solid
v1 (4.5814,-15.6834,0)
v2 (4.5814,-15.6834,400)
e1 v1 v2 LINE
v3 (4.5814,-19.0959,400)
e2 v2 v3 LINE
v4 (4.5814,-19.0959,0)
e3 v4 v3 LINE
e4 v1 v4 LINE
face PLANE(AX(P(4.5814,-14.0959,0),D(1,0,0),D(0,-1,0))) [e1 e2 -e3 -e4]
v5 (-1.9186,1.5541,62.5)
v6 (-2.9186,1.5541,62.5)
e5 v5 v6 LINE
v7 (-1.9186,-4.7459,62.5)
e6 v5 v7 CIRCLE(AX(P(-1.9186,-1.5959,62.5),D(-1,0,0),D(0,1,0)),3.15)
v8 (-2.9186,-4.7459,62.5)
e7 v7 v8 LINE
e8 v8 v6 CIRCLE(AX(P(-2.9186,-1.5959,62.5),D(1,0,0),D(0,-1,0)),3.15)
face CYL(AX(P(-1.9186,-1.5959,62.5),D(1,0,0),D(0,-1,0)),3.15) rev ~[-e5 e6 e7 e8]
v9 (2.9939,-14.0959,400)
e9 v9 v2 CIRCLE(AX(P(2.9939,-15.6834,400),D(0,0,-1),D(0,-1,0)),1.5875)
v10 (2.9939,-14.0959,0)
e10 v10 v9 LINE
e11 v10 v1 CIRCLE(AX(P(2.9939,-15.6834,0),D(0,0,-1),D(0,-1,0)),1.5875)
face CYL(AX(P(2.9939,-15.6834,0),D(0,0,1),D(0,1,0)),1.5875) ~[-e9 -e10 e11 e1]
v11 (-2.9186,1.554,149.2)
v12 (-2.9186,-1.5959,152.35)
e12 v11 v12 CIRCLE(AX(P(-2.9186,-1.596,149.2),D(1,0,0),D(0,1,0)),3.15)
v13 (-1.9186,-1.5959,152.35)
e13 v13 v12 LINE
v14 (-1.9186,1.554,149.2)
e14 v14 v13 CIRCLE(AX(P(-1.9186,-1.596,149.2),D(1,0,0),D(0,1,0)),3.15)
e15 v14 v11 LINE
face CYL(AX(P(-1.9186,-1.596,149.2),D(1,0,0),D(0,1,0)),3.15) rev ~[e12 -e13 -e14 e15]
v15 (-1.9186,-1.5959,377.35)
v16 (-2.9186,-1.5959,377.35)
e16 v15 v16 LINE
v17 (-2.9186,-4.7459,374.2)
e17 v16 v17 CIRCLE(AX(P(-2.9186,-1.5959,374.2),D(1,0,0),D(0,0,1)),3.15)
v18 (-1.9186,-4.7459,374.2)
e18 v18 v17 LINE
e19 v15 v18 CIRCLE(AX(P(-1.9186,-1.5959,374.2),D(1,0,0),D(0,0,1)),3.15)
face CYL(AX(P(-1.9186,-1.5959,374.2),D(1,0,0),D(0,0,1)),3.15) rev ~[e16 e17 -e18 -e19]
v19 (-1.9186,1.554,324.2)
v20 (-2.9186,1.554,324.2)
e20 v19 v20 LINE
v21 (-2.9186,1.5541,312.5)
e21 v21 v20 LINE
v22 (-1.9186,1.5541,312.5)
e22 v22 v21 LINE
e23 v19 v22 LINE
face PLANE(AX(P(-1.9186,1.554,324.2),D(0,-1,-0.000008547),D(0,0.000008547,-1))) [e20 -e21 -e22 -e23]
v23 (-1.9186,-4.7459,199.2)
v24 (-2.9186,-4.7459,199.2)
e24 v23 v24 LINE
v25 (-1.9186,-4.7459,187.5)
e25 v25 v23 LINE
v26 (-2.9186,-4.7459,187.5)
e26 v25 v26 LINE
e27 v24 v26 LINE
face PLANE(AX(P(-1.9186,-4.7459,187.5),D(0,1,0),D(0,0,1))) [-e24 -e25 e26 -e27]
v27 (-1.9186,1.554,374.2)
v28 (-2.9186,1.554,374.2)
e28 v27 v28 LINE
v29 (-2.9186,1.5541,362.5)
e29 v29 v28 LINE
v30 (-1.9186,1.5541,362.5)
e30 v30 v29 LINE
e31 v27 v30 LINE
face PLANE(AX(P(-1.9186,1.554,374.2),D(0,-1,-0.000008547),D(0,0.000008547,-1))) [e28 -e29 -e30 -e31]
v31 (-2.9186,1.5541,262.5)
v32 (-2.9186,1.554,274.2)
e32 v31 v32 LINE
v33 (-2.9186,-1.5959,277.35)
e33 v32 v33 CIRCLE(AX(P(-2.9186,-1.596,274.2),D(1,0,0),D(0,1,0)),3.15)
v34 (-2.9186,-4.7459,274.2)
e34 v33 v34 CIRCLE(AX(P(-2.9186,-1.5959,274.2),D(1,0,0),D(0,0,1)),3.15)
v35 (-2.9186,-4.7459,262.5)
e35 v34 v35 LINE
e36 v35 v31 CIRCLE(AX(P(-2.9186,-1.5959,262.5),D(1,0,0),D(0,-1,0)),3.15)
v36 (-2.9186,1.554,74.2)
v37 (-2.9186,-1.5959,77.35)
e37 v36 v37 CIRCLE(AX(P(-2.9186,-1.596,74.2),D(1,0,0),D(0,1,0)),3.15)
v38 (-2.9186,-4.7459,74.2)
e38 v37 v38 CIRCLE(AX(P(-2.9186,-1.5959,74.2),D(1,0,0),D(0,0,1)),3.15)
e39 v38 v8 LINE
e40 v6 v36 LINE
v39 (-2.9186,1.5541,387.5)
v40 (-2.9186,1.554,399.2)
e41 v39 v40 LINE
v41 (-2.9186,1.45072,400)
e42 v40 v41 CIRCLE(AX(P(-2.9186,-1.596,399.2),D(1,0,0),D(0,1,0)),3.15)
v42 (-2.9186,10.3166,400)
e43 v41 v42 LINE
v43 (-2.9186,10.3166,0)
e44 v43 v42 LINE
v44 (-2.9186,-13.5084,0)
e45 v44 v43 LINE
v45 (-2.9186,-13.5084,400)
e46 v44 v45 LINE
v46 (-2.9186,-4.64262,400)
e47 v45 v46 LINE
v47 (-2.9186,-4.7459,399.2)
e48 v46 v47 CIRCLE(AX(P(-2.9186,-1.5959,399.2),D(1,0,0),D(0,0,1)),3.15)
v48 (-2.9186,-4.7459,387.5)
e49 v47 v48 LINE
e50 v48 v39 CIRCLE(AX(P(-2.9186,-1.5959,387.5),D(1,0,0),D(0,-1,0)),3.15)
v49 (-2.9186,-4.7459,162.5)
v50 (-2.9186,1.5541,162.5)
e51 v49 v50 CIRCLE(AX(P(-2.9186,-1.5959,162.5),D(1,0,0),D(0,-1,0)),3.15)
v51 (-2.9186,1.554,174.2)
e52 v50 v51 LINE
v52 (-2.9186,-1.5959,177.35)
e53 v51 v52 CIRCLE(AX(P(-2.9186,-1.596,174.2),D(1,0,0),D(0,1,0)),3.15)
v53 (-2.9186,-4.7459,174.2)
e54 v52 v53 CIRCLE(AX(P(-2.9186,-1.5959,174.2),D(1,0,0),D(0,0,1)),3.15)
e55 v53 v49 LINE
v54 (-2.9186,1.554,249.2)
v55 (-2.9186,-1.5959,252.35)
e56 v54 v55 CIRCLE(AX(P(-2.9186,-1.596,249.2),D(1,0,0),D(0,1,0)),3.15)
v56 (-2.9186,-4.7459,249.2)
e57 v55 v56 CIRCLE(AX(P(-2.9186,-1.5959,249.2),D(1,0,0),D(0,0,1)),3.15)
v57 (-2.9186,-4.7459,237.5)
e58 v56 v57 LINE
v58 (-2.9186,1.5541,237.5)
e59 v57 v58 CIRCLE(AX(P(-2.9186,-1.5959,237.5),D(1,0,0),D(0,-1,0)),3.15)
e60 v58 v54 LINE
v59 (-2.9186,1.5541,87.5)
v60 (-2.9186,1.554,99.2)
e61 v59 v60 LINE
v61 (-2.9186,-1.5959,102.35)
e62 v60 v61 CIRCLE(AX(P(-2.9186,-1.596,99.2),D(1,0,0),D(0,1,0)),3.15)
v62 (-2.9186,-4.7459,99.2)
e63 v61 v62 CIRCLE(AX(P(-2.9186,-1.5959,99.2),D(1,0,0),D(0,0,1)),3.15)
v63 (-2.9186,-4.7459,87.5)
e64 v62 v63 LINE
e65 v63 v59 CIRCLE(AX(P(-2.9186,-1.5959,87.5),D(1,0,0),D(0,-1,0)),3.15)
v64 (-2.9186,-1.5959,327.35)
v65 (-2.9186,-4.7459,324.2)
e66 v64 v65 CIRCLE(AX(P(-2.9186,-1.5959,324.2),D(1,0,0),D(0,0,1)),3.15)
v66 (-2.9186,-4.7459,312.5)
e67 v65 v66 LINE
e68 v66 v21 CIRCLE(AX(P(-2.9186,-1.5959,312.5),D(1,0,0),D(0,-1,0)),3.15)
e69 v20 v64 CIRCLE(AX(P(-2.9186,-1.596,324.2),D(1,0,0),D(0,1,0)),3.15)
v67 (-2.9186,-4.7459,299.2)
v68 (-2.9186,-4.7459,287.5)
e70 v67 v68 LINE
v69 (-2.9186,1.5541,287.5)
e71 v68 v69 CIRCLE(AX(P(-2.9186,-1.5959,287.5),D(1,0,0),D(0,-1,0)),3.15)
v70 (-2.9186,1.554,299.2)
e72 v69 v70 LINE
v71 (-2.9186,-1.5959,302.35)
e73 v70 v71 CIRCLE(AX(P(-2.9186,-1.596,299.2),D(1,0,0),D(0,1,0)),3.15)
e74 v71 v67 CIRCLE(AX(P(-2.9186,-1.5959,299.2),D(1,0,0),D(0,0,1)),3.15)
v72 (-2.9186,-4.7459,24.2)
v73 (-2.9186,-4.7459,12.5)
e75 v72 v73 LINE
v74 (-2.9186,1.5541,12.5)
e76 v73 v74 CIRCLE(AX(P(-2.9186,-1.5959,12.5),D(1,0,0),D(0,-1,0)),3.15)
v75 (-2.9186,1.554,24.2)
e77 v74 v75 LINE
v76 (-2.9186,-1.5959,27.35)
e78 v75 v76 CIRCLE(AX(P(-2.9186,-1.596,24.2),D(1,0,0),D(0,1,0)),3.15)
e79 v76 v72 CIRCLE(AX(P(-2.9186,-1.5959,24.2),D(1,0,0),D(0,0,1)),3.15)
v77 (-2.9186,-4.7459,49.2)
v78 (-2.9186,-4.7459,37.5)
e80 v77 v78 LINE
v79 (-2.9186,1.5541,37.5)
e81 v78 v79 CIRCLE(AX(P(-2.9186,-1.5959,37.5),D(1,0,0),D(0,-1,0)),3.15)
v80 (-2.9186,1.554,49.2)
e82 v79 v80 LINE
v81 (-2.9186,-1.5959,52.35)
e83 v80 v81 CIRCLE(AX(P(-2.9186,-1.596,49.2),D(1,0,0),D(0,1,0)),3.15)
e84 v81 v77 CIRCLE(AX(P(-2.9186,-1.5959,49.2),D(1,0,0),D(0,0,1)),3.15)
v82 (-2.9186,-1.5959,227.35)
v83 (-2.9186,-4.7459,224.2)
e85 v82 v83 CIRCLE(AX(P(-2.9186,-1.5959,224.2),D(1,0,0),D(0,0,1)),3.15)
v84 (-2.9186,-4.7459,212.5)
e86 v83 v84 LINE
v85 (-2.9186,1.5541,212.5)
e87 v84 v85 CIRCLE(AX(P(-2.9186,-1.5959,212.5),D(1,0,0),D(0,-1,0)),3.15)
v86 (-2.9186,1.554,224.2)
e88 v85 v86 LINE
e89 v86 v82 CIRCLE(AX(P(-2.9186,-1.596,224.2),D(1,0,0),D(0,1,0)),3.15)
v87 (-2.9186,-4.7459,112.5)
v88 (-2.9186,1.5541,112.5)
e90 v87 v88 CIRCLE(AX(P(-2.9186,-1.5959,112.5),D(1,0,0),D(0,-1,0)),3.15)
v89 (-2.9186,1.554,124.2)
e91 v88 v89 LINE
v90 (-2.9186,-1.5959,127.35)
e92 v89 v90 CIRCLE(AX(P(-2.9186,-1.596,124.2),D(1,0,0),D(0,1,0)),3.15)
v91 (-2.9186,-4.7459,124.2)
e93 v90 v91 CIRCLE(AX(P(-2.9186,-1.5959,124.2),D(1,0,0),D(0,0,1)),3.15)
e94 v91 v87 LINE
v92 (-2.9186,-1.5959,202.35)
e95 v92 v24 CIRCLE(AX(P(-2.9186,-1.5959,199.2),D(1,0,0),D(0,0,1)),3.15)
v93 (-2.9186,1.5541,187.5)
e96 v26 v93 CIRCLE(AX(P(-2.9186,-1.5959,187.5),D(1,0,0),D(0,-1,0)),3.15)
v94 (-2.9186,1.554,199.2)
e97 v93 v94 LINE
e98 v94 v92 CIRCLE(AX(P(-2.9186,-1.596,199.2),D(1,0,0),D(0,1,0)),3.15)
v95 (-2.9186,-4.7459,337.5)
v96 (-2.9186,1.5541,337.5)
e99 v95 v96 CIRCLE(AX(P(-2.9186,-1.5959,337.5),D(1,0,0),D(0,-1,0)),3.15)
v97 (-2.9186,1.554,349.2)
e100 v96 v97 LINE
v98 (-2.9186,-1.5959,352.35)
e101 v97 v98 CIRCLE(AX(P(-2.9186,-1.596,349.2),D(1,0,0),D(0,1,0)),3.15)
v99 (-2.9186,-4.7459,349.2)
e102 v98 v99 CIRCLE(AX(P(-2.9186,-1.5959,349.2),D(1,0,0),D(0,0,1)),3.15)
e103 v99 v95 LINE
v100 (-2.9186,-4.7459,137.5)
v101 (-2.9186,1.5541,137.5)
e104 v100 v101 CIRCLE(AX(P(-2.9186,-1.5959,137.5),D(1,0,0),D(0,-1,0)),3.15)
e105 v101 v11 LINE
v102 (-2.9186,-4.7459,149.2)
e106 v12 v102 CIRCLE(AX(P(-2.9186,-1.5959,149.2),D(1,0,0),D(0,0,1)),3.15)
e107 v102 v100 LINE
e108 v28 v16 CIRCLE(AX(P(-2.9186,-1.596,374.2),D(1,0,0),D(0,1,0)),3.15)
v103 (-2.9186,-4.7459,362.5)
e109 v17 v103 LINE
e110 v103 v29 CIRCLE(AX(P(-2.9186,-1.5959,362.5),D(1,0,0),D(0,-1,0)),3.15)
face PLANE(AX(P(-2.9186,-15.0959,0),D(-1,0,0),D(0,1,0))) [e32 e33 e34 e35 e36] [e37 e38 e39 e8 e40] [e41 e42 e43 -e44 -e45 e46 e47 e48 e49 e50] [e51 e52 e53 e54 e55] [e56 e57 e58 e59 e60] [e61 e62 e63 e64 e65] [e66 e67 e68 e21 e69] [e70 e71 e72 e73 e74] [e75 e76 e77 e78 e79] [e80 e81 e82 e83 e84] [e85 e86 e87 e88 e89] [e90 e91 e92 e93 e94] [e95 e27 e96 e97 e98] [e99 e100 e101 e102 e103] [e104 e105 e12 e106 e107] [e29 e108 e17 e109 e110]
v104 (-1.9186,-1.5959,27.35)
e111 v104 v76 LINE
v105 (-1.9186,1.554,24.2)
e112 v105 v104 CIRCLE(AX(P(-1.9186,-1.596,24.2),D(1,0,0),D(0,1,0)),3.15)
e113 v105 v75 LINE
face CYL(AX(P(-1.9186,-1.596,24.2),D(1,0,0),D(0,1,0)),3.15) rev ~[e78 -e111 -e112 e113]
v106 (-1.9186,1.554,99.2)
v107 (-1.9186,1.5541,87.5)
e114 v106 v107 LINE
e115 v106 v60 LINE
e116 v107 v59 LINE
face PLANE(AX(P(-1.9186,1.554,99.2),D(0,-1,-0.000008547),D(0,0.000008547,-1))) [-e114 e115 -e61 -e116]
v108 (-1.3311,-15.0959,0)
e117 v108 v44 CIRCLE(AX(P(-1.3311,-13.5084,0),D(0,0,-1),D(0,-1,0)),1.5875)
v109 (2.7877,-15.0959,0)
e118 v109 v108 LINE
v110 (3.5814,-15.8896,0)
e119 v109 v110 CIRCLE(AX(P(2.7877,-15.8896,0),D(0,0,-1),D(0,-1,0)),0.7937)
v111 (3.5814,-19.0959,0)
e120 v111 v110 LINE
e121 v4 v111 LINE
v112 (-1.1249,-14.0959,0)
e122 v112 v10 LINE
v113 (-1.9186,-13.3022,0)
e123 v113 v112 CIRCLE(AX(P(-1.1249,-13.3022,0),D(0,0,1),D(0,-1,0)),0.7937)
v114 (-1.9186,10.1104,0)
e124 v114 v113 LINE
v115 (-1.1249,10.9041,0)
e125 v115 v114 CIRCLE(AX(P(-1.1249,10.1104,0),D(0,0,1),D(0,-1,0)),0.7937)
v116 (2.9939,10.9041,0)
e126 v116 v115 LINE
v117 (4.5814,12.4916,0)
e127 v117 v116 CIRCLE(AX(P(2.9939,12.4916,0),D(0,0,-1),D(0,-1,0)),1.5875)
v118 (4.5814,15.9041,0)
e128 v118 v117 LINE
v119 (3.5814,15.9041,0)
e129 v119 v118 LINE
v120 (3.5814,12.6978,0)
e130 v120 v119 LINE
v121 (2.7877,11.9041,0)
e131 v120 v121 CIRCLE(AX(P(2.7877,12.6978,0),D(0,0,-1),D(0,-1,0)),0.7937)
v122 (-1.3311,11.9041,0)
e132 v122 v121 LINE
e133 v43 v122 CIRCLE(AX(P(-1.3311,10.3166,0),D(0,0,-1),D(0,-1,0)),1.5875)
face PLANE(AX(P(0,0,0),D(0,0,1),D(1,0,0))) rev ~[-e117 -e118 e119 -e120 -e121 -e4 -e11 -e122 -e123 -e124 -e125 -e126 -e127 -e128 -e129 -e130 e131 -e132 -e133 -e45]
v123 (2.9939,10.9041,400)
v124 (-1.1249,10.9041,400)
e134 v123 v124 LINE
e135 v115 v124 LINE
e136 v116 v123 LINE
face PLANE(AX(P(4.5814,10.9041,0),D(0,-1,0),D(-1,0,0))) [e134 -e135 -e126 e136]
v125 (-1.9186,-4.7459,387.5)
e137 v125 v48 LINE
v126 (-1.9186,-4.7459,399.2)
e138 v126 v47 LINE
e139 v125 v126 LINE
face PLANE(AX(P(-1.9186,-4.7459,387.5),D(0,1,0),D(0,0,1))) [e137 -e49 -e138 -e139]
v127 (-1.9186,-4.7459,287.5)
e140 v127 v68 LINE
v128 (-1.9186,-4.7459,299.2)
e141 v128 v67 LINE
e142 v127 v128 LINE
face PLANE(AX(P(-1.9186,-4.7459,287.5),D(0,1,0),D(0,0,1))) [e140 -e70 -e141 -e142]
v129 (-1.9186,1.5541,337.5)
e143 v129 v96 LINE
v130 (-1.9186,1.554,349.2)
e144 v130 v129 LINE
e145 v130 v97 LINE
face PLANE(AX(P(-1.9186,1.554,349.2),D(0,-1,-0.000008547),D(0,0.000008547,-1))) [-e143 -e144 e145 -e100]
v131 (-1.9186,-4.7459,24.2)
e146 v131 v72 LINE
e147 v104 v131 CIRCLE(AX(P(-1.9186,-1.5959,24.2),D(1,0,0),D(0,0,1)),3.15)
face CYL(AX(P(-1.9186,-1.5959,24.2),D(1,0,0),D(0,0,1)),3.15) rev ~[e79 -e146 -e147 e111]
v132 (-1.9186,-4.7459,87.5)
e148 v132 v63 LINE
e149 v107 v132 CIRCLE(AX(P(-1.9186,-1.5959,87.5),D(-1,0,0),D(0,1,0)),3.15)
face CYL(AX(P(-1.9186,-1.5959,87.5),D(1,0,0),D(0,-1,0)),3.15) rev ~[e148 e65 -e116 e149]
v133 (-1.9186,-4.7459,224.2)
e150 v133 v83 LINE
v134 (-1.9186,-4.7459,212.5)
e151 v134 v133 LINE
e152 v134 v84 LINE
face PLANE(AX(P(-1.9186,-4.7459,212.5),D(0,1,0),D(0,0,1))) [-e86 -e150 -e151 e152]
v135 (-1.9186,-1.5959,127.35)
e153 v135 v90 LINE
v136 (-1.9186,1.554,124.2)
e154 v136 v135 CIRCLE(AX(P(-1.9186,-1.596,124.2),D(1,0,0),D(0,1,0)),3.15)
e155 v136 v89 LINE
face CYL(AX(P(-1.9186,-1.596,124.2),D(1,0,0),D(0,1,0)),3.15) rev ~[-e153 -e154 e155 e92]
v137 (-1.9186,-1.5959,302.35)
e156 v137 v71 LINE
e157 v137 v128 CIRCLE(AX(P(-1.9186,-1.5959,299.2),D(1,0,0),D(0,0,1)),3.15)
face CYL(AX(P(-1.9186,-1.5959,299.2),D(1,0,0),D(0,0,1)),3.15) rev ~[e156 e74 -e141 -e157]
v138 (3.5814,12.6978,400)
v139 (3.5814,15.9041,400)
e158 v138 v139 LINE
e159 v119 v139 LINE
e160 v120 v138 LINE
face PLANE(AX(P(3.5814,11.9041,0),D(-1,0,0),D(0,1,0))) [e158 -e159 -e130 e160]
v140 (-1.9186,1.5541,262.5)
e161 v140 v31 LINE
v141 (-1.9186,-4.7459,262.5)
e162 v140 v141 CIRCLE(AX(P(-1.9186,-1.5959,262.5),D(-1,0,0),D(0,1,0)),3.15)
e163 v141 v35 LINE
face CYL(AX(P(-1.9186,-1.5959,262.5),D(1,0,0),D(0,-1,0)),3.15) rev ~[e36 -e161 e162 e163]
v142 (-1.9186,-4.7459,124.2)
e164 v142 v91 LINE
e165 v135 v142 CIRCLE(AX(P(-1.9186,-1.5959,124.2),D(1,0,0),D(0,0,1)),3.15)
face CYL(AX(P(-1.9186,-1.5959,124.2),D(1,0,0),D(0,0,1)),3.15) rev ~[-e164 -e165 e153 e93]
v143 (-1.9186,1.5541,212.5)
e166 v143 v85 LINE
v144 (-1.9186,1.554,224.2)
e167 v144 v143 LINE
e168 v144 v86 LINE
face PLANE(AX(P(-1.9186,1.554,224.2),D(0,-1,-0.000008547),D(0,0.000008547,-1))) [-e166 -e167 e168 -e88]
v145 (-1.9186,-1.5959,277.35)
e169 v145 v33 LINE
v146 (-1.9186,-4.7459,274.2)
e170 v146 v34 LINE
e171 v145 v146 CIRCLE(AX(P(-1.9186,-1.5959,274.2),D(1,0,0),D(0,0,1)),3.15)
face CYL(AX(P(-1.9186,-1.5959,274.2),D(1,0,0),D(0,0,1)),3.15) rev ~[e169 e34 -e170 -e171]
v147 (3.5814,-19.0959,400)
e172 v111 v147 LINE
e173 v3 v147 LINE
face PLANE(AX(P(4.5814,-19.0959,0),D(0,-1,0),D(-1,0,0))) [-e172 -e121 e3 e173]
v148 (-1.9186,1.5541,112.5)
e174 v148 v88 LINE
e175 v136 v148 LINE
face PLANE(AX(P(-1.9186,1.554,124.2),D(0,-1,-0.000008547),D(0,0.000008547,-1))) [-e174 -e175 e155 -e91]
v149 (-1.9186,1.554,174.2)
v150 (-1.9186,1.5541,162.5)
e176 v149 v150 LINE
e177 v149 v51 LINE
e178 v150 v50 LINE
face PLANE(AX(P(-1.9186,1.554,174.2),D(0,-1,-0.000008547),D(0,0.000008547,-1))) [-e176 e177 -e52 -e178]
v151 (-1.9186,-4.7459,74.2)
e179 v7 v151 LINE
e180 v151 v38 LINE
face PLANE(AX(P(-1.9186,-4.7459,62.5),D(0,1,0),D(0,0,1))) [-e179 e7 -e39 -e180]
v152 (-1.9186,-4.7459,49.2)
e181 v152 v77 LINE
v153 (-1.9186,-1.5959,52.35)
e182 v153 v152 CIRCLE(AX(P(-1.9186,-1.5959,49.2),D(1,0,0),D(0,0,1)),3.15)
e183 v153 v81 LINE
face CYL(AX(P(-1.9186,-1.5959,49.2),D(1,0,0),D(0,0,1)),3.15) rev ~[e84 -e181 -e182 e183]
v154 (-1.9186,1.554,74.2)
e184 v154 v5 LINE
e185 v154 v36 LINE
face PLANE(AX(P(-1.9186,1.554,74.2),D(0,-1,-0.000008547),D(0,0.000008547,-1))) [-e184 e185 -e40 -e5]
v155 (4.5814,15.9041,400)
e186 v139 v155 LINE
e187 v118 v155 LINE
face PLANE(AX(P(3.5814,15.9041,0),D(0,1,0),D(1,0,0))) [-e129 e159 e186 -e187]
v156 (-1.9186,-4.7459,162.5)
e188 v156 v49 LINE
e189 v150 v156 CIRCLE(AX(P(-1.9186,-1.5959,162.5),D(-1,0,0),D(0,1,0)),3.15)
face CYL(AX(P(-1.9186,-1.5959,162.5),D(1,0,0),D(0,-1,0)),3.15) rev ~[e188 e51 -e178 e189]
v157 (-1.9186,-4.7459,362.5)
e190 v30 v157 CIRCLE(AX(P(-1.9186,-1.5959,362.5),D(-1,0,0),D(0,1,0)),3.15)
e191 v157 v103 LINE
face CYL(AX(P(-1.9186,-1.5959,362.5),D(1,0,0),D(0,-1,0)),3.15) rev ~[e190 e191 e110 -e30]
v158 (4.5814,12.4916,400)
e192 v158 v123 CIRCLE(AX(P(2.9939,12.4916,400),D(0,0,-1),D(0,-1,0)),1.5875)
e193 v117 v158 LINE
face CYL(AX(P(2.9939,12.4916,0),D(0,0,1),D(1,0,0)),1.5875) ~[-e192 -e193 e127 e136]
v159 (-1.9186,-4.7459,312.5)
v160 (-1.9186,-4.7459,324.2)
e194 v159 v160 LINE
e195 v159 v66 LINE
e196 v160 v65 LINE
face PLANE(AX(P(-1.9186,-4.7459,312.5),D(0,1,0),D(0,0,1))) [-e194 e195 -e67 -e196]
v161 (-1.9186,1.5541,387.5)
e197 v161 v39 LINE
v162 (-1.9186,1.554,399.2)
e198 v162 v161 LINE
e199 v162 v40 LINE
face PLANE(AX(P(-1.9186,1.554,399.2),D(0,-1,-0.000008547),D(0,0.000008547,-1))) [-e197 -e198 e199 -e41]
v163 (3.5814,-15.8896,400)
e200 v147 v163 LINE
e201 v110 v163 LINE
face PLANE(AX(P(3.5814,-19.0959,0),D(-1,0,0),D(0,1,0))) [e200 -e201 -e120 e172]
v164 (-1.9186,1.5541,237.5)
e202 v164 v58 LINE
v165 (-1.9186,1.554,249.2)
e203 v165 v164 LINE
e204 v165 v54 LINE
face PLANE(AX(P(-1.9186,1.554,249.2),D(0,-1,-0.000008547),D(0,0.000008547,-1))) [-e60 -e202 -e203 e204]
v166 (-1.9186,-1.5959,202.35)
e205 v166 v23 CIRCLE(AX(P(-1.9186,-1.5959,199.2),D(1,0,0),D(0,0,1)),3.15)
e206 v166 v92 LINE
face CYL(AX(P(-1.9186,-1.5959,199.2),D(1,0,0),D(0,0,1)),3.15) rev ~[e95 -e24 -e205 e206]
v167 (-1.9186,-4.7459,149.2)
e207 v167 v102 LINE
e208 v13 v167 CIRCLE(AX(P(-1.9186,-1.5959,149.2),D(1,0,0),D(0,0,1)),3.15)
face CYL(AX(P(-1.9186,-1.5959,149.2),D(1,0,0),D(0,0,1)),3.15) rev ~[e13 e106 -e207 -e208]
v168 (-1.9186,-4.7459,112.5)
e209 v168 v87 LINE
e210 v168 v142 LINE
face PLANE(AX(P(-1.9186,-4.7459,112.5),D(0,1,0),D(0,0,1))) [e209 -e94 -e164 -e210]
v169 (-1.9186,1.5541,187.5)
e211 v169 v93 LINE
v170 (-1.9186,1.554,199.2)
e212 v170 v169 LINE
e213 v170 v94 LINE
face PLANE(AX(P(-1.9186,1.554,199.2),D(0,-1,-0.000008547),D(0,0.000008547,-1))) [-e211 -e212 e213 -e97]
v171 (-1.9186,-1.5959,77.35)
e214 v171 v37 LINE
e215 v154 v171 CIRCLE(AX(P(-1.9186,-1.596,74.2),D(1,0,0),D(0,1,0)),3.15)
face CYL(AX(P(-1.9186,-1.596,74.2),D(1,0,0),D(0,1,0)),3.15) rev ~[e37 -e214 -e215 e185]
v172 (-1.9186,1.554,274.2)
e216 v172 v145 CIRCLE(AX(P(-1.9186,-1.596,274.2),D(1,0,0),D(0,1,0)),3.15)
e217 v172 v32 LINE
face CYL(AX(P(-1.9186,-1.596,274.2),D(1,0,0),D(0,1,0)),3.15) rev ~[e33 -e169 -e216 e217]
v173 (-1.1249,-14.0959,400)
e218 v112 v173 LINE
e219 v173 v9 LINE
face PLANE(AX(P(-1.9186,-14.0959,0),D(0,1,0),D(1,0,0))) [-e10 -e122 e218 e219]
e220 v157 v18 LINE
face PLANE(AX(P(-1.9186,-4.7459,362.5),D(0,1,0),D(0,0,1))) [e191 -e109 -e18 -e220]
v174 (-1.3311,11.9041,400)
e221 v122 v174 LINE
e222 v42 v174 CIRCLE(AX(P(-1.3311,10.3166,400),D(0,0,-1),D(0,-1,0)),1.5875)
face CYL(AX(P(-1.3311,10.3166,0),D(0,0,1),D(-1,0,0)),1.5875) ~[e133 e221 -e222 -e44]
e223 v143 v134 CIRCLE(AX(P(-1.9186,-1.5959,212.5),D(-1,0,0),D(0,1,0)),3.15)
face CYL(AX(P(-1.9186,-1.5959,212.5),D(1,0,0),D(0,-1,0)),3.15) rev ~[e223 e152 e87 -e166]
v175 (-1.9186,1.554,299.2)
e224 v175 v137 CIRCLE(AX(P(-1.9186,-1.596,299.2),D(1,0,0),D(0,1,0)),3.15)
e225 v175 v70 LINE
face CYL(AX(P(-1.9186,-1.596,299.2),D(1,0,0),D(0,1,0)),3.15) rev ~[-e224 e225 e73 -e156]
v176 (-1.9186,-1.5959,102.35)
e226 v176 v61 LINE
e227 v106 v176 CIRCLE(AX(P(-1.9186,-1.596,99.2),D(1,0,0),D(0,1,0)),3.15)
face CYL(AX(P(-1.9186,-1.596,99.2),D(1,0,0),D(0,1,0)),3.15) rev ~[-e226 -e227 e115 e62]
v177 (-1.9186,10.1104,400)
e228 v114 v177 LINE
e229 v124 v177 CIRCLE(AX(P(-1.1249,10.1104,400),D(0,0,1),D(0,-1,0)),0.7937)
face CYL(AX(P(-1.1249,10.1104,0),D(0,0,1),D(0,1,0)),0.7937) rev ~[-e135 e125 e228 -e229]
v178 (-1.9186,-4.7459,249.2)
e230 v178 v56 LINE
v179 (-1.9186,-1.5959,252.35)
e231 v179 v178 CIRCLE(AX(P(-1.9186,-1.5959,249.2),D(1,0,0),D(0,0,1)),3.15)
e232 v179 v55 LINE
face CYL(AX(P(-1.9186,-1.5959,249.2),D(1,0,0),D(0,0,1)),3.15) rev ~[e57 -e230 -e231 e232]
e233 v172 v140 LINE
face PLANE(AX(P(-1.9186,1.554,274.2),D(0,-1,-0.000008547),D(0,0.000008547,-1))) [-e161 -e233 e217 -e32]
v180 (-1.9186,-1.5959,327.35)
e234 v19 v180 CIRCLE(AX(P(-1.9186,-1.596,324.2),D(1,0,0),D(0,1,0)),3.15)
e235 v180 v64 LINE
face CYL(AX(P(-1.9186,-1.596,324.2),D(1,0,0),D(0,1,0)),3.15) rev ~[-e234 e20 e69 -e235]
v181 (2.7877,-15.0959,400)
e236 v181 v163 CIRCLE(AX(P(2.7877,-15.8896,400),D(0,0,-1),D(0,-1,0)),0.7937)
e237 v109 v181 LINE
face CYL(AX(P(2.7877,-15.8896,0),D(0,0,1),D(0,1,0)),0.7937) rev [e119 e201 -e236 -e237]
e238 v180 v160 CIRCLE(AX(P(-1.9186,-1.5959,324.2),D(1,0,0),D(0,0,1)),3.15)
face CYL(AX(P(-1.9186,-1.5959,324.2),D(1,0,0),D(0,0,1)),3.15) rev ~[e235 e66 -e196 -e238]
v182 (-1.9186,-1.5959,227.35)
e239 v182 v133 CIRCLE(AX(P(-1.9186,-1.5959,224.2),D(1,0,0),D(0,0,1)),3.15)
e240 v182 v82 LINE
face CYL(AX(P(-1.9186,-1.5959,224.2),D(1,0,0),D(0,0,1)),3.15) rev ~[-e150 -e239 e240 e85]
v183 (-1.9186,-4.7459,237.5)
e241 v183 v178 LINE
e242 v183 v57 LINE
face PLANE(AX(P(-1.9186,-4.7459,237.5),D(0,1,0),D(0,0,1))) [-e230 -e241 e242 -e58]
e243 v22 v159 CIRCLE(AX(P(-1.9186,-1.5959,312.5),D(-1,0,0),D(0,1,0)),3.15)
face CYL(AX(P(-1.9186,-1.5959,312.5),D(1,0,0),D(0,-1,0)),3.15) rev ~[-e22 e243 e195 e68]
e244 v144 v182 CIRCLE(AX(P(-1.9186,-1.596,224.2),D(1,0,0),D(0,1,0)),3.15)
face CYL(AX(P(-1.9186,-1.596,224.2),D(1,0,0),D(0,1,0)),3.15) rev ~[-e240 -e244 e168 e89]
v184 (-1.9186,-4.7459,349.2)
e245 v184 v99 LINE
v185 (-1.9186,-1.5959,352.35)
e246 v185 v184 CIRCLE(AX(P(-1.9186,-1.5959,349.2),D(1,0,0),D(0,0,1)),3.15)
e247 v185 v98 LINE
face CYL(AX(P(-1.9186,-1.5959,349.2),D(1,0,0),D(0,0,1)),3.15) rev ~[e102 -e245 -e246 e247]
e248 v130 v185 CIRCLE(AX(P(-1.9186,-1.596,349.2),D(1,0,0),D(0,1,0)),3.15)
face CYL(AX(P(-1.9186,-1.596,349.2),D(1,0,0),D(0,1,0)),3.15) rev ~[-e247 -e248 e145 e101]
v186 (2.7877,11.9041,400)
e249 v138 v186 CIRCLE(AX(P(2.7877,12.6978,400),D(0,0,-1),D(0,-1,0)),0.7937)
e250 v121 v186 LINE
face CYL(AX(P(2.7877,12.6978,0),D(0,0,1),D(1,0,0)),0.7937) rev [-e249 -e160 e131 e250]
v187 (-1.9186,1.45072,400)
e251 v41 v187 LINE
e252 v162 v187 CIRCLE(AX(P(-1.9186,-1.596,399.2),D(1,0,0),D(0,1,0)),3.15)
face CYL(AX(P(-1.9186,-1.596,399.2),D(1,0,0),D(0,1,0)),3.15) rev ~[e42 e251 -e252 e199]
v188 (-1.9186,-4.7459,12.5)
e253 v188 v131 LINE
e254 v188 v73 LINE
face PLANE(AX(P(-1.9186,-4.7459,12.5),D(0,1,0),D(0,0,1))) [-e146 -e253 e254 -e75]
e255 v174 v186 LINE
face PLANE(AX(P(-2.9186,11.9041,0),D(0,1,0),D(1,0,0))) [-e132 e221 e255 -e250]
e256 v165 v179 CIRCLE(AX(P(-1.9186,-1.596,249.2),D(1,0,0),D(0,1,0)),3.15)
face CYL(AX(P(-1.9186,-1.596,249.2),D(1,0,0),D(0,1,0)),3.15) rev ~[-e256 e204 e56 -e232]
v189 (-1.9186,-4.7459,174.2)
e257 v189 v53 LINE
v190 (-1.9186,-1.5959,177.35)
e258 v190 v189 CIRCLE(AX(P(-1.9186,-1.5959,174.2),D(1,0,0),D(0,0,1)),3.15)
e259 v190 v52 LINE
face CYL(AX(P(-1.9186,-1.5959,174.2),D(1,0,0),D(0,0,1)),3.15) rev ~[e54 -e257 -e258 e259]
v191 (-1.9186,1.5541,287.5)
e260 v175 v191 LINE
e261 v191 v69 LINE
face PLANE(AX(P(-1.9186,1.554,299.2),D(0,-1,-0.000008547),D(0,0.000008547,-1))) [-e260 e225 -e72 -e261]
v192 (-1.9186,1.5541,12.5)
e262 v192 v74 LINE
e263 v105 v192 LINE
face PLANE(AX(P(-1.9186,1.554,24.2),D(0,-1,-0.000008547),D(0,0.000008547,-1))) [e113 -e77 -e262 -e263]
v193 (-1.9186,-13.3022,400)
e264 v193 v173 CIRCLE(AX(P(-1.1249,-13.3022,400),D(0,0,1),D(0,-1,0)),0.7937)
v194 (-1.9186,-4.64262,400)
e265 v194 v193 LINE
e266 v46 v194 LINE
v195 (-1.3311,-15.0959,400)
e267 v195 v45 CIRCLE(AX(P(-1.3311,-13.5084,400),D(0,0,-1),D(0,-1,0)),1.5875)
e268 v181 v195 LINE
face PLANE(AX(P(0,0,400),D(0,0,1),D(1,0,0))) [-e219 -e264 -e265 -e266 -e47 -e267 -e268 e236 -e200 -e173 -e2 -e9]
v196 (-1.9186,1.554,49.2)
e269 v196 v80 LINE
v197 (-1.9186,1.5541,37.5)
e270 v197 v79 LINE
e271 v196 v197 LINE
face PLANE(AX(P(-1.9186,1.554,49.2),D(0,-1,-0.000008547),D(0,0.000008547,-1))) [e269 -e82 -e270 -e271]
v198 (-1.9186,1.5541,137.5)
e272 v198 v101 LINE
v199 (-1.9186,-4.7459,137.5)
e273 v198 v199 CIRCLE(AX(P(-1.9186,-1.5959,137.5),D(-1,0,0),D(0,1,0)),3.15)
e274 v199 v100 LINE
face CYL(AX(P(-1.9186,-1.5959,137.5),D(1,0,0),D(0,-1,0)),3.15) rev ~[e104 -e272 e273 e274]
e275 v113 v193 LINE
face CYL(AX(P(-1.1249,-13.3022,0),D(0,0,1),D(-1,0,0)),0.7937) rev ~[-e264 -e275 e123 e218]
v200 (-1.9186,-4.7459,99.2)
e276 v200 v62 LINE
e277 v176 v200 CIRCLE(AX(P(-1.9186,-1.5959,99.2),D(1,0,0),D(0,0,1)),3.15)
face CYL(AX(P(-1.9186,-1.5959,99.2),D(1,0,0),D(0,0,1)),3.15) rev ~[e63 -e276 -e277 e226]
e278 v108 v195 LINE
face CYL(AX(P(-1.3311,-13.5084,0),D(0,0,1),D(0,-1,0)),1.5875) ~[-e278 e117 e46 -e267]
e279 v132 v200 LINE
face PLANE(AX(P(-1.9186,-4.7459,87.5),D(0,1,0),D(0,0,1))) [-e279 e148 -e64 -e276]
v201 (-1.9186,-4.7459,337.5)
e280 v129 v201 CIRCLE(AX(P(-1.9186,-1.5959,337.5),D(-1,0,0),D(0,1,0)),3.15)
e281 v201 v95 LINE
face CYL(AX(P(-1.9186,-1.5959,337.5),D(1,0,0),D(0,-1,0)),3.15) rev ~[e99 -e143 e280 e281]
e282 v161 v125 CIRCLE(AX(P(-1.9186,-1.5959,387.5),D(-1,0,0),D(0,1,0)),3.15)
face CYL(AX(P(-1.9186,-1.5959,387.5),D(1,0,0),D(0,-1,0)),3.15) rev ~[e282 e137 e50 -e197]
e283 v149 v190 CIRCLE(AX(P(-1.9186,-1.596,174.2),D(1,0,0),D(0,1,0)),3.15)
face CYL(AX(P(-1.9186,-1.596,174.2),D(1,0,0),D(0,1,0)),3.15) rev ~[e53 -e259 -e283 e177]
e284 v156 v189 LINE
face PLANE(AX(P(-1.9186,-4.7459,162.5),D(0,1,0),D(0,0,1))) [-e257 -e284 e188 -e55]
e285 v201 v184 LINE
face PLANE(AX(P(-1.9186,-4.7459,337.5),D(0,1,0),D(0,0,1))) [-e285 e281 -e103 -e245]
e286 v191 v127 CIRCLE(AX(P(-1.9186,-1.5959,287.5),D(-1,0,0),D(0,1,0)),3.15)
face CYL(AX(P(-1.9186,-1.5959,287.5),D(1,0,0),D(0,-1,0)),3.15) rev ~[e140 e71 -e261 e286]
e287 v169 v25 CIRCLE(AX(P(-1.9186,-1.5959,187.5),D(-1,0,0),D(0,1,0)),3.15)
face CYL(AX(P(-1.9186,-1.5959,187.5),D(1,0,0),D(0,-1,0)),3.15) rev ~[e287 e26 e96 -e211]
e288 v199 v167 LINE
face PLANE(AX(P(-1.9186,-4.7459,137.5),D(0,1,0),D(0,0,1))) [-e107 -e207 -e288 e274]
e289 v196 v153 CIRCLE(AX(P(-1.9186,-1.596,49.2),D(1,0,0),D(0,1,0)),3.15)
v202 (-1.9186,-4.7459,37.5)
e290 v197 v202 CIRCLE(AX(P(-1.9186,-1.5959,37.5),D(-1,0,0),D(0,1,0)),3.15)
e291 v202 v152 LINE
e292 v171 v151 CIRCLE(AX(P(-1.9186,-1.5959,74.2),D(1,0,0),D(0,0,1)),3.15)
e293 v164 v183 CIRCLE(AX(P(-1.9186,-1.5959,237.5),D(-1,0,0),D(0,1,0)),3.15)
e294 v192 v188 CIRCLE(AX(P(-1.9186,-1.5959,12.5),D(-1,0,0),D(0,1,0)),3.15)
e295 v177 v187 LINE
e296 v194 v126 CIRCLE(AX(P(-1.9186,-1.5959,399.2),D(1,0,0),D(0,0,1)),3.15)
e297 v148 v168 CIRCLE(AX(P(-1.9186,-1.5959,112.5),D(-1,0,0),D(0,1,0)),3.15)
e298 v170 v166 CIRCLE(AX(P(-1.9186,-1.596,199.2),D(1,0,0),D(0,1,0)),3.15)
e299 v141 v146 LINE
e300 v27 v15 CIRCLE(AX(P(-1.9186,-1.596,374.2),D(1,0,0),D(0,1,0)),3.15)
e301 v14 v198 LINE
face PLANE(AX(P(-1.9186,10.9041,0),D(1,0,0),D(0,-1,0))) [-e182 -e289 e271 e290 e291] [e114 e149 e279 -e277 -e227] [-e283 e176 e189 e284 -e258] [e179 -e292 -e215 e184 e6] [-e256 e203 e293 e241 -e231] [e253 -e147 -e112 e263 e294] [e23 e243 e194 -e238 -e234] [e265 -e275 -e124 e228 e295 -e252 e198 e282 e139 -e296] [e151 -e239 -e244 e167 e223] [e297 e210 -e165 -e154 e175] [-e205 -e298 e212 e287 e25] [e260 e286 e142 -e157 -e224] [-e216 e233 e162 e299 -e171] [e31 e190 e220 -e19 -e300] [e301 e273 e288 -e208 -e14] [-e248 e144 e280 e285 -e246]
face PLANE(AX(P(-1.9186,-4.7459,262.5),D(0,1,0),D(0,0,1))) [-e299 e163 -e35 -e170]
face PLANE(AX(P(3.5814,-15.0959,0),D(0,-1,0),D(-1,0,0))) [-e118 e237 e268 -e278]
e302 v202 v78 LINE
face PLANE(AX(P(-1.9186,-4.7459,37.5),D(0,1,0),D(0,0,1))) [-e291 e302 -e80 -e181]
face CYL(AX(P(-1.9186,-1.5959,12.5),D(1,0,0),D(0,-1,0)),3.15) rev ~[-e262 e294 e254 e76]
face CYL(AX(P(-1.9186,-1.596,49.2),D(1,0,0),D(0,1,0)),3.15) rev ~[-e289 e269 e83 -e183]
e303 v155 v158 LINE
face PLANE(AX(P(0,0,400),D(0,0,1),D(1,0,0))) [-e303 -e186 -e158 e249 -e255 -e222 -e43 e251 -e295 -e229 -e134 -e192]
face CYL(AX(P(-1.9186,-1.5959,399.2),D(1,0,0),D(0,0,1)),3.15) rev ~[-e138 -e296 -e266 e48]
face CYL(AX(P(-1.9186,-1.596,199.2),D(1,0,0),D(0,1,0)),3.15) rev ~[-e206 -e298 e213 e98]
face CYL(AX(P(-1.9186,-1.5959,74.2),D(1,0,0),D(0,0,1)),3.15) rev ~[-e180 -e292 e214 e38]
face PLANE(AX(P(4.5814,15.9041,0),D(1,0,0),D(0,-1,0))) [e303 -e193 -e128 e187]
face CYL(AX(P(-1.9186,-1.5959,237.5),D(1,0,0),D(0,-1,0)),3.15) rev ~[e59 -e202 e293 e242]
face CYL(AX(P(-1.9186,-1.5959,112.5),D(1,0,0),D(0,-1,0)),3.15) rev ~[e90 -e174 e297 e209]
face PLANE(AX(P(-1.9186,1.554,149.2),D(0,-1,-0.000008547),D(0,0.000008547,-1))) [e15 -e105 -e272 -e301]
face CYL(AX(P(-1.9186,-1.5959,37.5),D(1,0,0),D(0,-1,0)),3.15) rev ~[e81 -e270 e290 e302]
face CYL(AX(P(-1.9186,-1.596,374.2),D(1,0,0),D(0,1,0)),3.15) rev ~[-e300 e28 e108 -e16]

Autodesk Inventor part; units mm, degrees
ref_plane "YZ Plane" through (0, 0, 0) normal (1, 0, 0) x (0, 1, 0)
ref_plane "XZ Plane" through (0, 0, 0) normal (0, 1, 0) x (-1, 0, 0)
ref_plane "XY Plane" through (0, 0, 0) normal (0, 0, 1) x (1, 0, 0)
sketch "Sketch2" plane through (0, 0, 0) normal (0, 0, 1) x (1, 0, 0)
  line L0 (3.5814, 15.9041) -> (4.5814, 15.9041)
  line L1 (4.5814, 15.9041) -> (4.5814, 10.9041)
  line L2 (4.5814, 10.9041) -> (-1.9186, 10.9041)
  line L3 (-1.9186, 10.9041) -> (-1.9186, -14.0959)
  line L4 (-1.9186, -14.0959) -> (4.5814, -14.0959)
  line L5 (4.5814, -14.0959) -> (4.5814, -19.0959)
  line L6 (4.5814, -19.0959) -> (3.5814, -19.0959)
  line L7 (3.5814, -19.0959) -> (3.5814, -15.0959)
  line L8 (3.5814, -15.0959) -> (-2.9186, -15.0959)
  line L9 (-2.9186, -15.0959) -> (-2.9186, 11.9041)
  line L10 (-2.9186, 11.9041) -> (3.5814, 11.9041)
  line L11 (3.5814, 11.9041) -> (3.5814, 15.9041)
  dimension "d0" = 1
  dimension "d1" = 35
  dimension "d2" = 27
  dimension "d3" = 1
  dimension "d4" = 1
  dimension "d5" = 1
  dimension "d6" = 1
  dimension "d7" = 4
  dimension "d8" = 7.5
extrude "Main" add sketch "Sketch2" along normal blind 400
fillet "Fillet2" radius 1.5875 4 edges at (4.5814, 10.9041, 200) (-2.9186, 11.9041, 200) (4.5814, -14.0959, 200) (-2.9186, -15.0959, 200)
fillet "Fillet3" radius 0.7937 4 edges at (3.5814, -15.0959, 200) (-1.9186, 10.9041, 200) (3.5814, 11.9041, 200) (-1.9186, -14.0959, 200)
sketch "Sketch3" plane through (-1.9186, -13.3022, 0) normal (1, 0, 0) x (0, 0, -1)
  line L0 (0, 23.4125) -> (0, 0) projected
  line L1 (-12.5, 8.5563) -> (-24.2, 8.5563)
  line L2 (-27.35, 11.7063) -> (-27.35, 11.7062)
  line L3 (-24.2, 14.8562) -> (-12.5, 14.8563)
  line L4 (-9.35, 11.7063) -> (-9.35, 11.7063)
  arc A0 (-24.2, 14.8562) -> (-27.35, 11.7062) centre (-24.2, 11.7062) ccw
  arc A1 (-27.35, 11.7063) -> (-24.2, 8.5563) centre (-24.2, 11.7063) ccw
  arc A2 (-12.5, 8.5563) -> (-9.35, 11.7063) centre (-12.5, 11.7063) ccw
  arc A3 (-9.35, 11.7063) -> (-12.5, 14.8563) centre (-12.5, 11.7063) ccw
  line L5 (0, 29.2063) -> (-400, 29.2063) projected
  dimension "d14" = 3.15
  dimension "d15" = 6.3
  dimension "d16" = 18
  dimension "d17" = 17.5
  dimension "d18" = 12.5
extrude "Extrusion2" cut sketch "Sketch3" against normal through all
pattern_linear "Rectangular Pattern1" count 30 spacing 25 along (0, 0, 1) of "Extrusion2"
equation "\"d0\" = DINWidth"
equation "\"d1\" = DINHeight"
equation "\"d2\" = DINHeightBack"
equation "\"d3\" = DINWidth"
equation "\"d4\" = DINWidth"
equation "\"d5\" = DINWidth"
equation "\"d6\" = DINWidth"
equation "\"d7\" = -0.5 * d2 + 0.5 * d1"
equation "\"d8\" = DINDepth"
equation "\"d14\" = 0.5 * SlotHeight"
equation "\"d15\" = SlotHeight"
equation "\"d16\" = SlotLength"
equation "\"d17\" = 0.5 * DINHeight"
equation "\"d18\" = 0.5 * SlotSpacing"
equation "\"d23\" = SlotSpacing"
equation "\"DINLength\" = 76.2"
equation "\"DINHeight\" = 35"
equation "\"DINHeightBack\" = 27"
equation "\"DINDepth\" = 7.5"
equation "\"SlotHeight\" = 6.3"
equation "\"SlotLength\" = 18"
equation "\"SlotSpacing\" = 25"
equation "\"DINWidth\" = 1"
properties part number "Din Rail" material "Латунь светло-желтая"
